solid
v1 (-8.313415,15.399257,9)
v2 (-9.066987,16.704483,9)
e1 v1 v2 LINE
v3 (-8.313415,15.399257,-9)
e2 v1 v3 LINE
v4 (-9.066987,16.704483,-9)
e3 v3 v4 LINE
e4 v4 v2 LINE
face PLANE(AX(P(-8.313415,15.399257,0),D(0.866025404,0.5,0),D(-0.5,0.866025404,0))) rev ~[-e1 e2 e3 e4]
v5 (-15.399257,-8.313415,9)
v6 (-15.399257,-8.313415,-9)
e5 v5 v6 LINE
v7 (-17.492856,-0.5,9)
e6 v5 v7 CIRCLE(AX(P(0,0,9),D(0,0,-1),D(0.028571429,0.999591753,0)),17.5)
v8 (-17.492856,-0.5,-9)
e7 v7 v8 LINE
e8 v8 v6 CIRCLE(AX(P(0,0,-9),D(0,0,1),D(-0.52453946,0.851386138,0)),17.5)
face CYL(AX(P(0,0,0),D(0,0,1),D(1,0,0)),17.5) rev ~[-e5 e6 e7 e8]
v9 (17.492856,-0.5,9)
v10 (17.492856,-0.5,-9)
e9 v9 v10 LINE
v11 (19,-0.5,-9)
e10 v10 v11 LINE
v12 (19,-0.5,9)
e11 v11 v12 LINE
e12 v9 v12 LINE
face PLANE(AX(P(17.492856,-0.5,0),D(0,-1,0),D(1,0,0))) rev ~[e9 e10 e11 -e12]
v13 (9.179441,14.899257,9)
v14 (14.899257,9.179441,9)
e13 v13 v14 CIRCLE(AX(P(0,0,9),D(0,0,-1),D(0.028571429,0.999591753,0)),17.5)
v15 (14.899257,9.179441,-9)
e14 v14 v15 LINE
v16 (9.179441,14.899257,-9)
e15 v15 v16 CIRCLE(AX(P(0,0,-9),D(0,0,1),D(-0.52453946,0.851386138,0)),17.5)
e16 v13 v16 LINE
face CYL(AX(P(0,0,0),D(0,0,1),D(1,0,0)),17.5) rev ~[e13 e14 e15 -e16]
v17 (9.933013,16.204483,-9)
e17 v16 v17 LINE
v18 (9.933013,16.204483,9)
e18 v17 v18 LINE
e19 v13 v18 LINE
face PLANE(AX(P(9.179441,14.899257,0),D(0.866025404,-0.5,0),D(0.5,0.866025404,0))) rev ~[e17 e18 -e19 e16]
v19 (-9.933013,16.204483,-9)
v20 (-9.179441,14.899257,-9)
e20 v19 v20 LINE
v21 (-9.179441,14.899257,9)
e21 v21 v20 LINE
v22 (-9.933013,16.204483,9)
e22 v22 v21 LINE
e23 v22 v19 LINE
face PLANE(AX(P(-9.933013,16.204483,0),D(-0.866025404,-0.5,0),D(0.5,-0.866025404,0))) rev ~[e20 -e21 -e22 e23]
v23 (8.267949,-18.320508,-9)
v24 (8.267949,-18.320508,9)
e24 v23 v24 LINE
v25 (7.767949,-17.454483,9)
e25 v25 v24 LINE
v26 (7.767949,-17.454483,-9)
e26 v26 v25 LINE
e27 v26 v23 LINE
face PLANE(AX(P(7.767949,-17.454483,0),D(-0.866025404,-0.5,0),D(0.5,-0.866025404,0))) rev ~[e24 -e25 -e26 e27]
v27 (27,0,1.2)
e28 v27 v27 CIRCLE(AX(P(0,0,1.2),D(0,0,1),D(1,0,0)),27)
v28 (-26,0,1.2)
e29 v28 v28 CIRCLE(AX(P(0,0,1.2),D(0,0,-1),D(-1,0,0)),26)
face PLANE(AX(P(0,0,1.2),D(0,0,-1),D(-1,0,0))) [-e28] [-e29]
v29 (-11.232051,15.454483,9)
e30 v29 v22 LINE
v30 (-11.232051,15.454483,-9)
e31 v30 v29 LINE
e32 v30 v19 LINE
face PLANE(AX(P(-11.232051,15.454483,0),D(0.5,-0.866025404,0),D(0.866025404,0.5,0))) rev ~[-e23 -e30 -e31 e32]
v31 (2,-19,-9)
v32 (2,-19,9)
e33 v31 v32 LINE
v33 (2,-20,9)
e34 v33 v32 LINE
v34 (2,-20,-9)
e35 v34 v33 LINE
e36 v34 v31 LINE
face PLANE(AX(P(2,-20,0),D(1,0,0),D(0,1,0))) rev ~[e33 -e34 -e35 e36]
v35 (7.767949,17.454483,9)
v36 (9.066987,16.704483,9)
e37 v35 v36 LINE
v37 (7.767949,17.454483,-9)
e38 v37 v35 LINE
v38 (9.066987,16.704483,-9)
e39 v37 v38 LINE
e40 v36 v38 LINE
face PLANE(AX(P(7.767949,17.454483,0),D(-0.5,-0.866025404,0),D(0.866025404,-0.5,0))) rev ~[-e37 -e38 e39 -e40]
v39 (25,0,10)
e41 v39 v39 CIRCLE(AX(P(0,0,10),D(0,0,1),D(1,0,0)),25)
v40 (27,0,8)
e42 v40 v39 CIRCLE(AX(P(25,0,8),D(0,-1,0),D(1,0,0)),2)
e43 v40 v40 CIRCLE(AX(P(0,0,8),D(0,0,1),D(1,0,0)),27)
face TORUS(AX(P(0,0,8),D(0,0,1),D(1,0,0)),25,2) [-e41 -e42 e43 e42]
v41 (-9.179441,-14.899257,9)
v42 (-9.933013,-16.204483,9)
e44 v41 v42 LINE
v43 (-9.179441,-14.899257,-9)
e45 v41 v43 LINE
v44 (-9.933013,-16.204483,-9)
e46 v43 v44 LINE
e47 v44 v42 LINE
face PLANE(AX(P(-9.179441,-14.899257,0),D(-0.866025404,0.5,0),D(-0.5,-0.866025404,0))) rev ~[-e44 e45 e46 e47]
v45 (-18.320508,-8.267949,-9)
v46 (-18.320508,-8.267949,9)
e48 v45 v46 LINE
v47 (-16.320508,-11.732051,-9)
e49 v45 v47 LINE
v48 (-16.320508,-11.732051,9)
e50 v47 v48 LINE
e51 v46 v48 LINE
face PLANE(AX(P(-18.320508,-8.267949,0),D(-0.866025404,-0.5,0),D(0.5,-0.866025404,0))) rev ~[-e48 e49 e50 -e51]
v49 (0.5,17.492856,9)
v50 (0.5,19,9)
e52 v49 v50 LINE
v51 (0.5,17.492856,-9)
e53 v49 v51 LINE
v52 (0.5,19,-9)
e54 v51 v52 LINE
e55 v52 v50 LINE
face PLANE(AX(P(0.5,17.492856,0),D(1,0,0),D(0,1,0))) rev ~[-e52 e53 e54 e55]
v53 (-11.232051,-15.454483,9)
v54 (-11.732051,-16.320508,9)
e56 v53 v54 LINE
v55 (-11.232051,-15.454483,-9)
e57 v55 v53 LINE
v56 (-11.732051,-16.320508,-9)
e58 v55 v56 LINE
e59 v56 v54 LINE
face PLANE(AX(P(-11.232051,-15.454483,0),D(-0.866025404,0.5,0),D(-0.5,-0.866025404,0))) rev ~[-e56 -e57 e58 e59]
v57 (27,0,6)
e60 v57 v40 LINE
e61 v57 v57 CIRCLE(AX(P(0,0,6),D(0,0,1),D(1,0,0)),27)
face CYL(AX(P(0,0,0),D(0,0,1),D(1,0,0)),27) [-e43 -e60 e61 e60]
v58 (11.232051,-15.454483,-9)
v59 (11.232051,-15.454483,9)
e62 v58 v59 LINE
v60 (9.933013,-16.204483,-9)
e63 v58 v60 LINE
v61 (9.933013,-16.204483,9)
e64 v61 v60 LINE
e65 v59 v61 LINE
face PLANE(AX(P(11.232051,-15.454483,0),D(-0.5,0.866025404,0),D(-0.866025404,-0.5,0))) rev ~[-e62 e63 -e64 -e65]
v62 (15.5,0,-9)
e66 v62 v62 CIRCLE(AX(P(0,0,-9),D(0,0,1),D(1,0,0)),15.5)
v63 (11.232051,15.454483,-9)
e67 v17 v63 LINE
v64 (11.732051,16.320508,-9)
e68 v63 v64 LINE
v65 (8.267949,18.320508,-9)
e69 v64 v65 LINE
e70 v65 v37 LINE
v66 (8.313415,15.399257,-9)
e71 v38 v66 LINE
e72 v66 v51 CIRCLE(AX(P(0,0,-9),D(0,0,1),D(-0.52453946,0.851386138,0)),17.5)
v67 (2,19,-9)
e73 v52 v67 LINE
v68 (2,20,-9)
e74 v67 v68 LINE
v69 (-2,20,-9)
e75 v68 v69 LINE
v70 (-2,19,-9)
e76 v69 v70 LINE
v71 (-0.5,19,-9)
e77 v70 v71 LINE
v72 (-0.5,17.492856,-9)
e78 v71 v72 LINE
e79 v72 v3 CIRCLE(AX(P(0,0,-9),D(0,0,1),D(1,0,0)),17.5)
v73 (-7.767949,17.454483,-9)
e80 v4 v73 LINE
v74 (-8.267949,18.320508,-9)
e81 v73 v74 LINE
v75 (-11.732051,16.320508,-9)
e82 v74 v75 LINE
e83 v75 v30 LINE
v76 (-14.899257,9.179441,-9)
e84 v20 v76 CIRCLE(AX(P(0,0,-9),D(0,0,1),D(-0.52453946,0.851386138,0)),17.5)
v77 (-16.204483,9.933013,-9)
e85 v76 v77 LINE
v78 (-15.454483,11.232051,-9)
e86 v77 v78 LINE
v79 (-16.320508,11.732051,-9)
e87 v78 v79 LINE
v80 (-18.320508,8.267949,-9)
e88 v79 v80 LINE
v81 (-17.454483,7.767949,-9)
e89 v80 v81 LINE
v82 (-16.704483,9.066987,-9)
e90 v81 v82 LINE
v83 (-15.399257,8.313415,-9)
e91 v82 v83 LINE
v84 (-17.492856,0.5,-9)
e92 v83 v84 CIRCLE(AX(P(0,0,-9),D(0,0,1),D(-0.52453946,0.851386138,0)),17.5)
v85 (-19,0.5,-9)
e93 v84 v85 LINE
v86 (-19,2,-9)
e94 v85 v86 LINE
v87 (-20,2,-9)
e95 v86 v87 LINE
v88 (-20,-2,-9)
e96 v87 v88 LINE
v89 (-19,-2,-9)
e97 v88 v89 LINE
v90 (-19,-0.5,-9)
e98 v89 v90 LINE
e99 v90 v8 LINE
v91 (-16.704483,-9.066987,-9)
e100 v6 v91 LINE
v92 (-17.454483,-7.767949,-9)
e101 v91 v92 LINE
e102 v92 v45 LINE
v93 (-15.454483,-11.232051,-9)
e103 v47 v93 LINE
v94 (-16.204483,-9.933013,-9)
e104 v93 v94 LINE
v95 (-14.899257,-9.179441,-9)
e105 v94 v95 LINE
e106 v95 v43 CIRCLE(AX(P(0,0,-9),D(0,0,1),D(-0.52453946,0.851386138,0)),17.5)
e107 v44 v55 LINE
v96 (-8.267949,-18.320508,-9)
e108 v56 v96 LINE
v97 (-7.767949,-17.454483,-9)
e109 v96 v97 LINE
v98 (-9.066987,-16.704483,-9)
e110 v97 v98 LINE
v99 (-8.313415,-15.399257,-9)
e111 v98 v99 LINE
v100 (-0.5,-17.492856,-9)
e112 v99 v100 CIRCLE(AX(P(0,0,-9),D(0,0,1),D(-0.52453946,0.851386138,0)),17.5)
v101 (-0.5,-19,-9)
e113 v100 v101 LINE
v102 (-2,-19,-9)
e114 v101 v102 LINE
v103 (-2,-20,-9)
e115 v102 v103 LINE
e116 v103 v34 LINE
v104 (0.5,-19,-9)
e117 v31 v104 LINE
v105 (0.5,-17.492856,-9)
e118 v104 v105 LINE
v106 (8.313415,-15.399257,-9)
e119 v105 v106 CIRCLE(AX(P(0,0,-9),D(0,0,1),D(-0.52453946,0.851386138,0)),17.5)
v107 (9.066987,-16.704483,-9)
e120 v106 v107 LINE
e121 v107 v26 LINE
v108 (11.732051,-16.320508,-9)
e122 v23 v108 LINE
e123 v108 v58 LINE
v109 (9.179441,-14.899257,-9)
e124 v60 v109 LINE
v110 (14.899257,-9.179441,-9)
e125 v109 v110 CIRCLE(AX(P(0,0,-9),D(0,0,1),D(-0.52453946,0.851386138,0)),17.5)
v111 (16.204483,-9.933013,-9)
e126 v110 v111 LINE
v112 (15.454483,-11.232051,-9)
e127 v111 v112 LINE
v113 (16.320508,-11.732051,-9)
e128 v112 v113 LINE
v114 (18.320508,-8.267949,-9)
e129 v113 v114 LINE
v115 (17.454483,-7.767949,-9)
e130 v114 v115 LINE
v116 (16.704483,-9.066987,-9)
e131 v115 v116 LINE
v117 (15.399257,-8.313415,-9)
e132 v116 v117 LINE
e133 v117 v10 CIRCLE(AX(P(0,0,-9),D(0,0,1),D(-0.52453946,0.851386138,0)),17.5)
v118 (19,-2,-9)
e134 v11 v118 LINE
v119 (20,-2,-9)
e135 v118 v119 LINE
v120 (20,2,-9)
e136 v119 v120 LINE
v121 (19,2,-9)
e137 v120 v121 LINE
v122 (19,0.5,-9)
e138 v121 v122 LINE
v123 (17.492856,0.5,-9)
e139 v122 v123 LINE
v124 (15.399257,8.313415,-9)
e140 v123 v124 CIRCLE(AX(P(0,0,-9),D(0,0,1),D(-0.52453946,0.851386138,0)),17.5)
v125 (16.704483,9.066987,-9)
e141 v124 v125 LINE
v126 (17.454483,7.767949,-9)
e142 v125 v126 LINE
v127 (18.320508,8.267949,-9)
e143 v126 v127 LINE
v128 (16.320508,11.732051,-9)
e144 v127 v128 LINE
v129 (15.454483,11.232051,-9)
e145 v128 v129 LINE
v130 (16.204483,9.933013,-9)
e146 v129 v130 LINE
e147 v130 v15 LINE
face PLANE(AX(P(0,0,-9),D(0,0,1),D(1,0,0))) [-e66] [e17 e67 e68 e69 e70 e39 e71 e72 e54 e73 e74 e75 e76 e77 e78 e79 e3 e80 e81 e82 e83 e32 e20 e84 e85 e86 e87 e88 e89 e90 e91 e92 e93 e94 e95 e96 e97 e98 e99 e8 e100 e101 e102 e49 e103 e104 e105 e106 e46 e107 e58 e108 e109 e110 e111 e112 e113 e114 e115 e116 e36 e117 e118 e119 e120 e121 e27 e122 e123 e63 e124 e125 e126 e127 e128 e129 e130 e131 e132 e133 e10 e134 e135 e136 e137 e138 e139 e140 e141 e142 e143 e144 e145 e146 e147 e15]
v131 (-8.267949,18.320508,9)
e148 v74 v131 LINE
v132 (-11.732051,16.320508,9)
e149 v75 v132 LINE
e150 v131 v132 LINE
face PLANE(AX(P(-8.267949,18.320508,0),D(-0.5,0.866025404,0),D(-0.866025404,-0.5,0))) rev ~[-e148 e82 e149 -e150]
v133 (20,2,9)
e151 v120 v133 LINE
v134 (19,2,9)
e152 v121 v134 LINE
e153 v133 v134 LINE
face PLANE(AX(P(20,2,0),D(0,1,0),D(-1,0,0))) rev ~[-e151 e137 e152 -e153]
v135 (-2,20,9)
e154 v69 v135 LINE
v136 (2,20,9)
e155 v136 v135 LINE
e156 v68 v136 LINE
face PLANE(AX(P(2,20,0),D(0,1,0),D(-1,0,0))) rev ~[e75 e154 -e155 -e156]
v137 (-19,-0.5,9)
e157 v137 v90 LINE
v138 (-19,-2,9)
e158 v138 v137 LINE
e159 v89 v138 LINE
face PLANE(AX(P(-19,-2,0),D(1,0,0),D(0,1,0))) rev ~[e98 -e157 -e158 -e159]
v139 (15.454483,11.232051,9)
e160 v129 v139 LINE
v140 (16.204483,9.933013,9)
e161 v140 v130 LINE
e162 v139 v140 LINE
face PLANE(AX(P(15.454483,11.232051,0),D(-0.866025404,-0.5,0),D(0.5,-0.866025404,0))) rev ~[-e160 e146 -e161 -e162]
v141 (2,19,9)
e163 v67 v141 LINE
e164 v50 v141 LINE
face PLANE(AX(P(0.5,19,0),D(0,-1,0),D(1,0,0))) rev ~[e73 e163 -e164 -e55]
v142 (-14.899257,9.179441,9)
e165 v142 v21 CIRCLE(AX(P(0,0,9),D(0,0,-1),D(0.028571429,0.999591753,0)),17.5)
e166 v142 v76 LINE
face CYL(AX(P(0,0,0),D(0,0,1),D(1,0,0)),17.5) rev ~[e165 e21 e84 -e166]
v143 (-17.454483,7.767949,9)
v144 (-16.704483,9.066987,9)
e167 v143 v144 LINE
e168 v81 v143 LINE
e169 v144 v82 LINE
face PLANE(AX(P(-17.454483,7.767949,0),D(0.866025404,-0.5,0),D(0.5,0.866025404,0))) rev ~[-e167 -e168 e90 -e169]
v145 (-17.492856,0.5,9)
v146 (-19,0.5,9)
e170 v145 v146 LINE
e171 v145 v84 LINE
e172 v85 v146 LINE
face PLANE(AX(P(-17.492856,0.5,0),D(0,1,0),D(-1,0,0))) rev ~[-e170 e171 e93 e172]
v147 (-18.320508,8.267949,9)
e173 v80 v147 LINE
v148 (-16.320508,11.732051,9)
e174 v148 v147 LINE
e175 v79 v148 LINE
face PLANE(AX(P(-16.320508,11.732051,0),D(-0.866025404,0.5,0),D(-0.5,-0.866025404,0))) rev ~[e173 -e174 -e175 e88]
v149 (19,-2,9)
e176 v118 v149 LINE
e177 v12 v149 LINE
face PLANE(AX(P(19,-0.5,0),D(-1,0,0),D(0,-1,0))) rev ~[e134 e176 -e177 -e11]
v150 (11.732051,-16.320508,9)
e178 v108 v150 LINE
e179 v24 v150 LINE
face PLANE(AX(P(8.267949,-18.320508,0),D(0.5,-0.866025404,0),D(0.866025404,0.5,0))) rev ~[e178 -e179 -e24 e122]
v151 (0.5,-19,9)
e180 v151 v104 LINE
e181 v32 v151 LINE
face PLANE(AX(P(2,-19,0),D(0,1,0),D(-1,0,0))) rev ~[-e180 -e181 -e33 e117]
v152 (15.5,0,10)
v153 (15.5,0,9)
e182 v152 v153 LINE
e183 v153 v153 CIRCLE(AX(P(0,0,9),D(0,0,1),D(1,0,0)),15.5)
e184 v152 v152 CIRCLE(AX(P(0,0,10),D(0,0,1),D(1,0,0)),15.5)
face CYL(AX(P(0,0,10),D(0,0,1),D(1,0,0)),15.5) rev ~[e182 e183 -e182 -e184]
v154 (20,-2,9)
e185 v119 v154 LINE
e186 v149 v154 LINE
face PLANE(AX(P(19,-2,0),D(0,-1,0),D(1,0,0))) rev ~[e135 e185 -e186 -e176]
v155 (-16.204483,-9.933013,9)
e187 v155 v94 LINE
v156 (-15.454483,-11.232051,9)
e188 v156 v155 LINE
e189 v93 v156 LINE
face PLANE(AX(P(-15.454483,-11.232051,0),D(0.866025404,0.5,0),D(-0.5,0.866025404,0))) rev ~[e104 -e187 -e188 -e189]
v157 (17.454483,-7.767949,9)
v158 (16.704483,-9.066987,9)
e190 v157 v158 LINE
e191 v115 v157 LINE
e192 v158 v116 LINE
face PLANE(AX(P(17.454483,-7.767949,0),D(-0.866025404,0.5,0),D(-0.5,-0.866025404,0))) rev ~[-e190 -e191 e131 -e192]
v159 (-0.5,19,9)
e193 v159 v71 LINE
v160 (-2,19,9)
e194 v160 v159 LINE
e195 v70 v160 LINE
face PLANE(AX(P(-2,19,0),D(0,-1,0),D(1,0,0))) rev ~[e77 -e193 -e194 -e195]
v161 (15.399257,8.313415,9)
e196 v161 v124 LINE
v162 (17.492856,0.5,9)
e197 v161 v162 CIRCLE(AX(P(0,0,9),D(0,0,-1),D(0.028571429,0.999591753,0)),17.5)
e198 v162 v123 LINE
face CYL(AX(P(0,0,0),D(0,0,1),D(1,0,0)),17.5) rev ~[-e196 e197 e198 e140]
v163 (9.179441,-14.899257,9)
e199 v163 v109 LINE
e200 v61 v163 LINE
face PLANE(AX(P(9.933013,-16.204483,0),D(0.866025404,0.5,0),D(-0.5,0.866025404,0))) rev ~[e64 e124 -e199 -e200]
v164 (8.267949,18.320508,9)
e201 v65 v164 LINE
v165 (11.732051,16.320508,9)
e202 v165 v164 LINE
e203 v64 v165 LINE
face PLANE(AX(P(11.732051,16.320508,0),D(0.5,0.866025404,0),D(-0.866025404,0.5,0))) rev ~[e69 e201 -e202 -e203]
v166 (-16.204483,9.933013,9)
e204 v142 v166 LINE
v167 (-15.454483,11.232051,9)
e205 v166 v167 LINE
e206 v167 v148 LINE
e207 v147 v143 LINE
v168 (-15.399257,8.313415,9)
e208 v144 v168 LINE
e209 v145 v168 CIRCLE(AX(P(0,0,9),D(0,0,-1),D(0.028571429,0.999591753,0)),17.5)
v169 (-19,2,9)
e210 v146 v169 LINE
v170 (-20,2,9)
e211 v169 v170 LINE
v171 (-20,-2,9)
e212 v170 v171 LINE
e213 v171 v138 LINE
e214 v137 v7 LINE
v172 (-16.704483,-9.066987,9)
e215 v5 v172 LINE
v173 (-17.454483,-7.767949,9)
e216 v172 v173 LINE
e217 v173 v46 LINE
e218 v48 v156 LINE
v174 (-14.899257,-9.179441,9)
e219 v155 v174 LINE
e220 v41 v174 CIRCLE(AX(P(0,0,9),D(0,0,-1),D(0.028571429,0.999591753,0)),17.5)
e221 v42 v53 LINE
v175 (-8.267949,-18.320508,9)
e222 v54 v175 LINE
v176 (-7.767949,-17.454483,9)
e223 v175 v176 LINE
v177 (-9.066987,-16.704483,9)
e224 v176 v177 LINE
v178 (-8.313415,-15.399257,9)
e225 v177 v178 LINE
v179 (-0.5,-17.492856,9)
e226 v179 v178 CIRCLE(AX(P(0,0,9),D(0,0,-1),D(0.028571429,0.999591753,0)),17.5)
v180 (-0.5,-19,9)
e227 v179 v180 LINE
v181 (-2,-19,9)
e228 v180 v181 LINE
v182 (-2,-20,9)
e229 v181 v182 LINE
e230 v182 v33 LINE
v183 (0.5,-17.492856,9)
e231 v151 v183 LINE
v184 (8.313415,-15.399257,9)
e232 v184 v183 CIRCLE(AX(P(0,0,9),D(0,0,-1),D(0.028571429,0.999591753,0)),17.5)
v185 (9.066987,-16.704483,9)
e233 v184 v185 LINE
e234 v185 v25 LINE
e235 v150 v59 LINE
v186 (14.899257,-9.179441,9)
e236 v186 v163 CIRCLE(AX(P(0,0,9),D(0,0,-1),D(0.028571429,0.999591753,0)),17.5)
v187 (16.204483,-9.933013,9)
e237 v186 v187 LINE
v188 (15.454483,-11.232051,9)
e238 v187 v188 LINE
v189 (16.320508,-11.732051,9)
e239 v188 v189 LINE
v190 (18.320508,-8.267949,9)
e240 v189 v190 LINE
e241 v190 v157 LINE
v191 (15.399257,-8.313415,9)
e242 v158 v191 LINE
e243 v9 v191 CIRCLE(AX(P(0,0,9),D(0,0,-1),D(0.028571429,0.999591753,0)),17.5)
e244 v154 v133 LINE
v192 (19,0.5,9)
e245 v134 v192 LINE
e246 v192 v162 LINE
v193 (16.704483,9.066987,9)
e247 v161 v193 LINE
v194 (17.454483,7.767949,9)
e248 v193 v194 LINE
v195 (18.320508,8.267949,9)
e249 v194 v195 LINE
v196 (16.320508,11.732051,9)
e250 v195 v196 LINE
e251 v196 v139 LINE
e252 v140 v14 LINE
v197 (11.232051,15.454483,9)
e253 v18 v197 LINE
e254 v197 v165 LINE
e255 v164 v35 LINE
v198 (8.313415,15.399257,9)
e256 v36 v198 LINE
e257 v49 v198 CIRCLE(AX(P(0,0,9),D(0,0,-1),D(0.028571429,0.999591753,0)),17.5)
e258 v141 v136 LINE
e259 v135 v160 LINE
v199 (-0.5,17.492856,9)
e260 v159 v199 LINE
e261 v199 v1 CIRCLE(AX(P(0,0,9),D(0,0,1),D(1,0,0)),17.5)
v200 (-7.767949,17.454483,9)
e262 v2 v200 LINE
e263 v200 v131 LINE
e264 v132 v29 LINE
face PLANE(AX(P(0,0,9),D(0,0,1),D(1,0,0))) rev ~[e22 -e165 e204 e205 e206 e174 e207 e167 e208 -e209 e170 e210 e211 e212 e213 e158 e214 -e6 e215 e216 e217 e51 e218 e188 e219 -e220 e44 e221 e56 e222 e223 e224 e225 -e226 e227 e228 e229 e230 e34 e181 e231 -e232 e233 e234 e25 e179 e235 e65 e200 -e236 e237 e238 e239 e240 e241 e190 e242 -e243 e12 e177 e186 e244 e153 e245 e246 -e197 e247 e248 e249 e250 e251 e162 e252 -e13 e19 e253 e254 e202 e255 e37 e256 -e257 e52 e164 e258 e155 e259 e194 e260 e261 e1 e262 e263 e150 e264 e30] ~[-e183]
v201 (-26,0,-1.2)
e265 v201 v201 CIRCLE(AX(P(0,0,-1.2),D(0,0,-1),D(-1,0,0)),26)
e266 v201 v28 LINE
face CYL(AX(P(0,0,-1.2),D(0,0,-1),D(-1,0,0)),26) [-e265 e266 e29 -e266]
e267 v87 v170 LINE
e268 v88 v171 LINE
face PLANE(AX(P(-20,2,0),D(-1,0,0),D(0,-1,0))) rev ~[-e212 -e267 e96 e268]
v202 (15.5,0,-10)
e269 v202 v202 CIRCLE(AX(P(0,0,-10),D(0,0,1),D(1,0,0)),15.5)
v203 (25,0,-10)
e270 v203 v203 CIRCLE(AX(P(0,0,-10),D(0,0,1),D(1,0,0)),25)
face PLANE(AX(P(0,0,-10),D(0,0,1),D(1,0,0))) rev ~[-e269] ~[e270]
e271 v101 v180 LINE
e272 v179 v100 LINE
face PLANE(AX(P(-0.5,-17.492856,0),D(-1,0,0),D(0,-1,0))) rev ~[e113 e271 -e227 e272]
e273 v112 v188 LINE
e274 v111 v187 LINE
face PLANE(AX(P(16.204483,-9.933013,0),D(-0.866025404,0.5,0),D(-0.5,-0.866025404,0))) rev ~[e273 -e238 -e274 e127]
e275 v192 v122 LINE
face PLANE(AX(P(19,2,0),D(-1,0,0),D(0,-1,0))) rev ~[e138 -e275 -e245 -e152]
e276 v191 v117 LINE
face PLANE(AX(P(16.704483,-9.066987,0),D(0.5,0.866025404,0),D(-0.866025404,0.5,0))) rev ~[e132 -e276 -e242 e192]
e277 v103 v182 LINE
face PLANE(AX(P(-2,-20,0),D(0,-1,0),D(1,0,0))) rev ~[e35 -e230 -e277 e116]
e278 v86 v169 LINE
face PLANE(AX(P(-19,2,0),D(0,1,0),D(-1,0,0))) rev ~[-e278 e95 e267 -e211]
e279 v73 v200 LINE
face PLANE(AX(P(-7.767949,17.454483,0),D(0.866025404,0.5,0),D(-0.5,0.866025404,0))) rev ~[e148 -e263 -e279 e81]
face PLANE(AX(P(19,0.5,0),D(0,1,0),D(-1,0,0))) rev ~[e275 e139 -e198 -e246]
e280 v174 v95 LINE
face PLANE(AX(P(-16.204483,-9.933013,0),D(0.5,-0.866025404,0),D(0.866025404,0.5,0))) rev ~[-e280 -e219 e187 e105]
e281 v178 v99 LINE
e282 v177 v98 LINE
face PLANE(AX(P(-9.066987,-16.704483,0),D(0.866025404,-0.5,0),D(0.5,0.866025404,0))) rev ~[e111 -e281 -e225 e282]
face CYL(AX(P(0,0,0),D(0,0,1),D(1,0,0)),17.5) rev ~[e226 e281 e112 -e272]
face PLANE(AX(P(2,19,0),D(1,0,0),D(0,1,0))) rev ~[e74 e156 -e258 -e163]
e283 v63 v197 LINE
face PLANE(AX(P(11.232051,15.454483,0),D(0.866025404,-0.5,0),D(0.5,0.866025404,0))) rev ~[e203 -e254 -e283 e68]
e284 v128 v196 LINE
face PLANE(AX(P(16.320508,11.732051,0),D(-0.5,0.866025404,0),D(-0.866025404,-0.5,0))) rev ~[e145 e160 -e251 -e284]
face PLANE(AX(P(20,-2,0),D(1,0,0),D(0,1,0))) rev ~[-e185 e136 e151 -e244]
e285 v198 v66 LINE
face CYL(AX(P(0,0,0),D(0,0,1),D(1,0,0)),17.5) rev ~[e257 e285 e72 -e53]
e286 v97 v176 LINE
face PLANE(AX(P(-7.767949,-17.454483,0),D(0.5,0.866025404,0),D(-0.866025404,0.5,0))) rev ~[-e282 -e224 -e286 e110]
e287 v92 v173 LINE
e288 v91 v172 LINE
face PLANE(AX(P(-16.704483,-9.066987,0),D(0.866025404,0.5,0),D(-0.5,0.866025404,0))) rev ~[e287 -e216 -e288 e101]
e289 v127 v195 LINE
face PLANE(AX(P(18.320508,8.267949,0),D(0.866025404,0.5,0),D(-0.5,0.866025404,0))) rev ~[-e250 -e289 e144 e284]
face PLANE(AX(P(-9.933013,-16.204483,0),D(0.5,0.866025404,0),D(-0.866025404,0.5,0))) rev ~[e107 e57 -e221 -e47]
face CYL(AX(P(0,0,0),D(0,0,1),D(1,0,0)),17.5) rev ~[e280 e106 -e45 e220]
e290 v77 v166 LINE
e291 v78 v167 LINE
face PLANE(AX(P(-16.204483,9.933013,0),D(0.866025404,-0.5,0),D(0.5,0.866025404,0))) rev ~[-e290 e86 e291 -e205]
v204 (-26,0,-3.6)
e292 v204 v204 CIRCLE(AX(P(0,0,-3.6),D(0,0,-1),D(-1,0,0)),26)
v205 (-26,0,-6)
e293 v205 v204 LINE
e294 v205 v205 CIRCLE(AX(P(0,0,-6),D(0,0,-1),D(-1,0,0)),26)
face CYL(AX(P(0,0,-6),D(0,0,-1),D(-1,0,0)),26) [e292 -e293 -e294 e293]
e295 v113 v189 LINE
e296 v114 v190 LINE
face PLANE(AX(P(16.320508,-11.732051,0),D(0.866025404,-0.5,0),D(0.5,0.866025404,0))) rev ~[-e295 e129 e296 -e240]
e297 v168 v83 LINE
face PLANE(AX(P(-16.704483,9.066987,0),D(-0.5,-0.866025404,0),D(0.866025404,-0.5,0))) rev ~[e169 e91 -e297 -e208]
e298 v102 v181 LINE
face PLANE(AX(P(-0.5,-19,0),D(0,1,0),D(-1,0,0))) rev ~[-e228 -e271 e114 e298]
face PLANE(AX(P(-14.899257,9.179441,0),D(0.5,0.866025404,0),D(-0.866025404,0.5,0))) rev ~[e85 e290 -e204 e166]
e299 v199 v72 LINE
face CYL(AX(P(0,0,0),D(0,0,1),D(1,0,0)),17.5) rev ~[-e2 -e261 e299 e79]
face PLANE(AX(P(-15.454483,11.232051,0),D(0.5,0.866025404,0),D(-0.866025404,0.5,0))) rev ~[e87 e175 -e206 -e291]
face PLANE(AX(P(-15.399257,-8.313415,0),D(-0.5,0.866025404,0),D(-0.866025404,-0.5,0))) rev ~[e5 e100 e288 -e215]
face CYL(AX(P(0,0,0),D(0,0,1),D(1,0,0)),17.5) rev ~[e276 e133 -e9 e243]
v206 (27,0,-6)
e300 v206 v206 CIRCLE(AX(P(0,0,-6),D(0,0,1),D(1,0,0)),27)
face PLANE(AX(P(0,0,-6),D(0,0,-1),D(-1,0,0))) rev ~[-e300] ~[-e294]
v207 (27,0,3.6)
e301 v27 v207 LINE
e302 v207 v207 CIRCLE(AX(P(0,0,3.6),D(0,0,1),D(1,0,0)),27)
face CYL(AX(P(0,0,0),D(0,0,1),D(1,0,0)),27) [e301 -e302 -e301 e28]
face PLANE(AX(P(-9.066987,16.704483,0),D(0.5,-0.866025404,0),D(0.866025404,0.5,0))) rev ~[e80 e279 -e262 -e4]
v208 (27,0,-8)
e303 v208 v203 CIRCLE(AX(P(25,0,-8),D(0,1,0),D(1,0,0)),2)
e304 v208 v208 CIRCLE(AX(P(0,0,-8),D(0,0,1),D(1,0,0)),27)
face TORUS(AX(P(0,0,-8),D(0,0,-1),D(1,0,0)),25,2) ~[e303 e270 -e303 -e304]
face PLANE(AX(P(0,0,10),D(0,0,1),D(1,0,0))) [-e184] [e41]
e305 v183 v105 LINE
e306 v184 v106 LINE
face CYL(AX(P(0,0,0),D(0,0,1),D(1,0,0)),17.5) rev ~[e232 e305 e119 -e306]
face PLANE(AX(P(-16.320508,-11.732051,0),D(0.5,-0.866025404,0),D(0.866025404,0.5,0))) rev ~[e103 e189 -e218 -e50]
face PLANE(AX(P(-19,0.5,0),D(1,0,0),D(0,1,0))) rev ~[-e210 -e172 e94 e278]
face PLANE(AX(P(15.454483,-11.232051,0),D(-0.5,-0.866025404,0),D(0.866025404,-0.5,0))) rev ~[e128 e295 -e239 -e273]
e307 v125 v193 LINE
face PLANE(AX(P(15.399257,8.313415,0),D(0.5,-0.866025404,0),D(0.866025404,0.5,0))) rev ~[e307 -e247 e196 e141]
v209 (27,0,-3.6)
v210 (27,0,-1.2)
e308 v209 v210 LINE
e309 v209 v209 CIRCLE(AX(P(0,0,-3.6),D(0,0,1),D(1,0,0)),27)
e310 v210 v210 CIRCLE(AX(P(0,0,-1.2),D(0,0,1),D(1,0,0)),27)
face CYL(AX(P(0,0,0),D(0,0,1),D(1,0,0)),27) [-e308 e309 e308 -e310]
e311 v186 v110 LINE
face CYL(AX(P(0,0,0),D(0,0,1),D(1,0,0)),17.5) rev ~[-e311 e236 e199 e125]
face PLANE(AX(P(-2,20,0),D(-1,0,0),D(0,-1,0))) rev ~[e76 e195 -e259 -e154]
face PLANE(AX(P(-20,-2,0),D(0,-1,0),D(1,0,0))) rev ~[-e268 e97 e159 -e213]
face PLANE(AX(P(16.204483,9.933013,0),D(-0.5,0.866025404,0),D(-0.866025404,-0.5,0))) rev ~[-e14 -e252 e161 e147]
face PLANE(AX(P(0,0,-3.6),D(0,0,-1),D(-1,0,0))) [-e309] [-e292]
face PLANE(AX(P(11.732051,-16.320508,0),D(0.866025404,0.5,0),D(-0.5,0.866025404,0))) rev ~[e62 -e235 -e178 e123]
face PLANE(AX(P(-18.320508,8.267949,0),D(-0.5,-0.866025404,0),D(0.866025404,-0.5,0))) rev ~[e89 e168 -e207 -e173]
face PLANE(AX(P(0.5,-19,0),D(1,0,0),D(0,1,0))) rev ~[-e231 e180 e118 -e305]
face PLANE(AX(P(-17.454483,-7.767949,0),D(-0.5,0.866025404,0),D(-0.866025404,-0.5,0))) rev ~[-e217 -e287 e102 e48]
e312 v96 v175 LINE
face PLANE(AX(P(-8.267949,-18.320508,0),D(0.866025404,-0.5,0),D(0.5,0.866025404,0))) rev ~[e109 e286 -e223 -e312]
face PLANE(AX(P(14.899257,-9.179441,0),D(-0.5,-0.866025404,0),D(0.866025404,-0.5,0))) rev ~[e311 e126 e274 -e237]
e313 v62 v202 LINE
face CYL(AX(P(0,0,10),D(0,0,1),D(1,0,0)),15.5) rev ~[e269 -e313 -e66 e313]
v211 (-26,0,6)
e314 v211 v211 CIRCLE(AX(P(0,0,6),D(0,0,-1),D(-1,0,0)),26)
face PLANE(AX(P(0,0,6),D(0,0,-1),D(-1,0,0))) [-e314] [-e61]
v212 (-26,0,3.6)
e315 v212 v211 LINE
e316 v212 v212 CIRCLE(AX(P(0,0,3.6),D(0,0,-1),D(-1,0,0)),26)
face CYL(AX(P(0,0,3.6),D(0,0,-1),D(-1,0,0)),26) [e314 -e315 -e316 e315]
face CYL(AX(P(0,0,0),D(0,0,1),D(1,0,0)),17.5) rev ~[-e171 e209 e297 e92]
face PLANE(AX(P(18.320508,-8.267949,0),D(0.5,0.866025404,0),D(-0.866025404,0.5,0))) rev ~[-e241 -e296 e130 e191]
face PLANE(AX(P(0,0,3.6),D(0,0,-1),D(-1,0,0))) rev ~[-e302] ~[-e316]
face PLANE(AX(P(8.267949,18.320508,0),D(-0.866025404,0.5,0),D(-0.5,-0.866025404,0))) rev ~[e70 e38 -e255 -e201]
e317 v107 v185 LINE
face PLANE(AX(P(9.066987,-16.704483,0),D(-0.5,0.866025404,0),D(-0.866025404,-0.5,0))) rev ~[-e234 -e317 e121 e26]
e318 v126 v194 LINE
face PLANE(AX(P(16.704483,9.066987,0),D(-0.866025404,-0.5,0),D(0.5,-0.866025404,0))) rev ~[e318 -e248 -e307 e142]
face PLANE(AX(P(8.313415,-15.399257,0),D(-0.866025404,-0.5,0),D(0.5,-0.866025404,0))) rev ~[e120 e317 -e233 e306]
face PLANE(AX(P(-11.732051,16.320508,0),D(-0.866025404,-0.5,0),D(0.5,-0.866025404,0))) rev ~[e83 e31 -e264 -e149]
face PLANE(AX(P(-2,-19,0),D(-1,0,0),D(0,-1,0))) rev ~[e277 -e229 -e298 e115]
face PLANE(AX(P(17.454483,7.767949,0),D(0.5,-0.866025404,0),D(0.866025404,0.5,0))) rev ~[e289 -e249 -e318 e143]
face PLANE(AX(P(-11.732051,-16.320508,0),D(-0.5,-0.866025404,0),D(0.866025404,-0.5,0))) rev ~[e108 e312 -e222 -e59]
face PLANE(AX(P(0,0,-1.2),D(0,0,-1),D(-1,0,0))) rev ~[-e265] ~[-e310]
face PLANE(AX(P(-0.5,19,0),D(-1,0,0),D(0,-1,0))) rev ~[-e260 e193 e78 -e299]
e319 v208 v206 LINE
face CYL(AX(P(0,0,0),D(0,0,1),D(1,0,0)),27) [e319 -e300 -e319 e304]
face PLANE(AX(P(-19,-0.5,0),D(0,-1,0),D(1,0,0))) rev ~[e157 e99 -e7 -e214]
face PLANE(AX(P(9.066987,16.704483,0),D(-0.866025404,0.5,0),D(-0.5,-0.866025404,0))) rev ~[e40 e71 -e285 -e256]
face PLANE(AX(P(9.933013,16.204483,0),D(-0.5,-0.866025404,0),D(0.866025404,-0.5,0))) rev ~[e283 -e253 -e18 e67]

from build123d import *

# Parameters (mm, degrees)
SKETCH_1_R               = 27
EXTRUDE_1_DEPTH          = 10
FILLET_1_R               = 2
SKETCH_3_R               = 17.5
CUT_EXTRUDE_1_DEPTH      = 9
SKETCH_5_R               = 15.5
CUT_EXTRUDE_2_DEPTH      = 44.10452425
CUT_EXTRUDE_3_DEPTH      = 9
PATTERN_CIRCULAR_1_COUNT = 12
CUT_EXTRUDE_START        = -4
SKETCH_7_R               = 30.427908266
SKETCH_7_R_2             = 26
CUT_EXTRUDE_4_DEPTH      = 2.4
PATTERN_LINEAR_1_COUNT   = 3
PATTERN_LINEAR_1_PITCH   = 4.8


with BuildPart() as part:
    # 草图1 → 凸台-拉伸1 (new, symmetric)
    with BuildSketch(Plane.XY):
        Circle(SKETCH_1_R)
    extrude(amount=EXTRUDE_1_DEPTH, both=True)

    # 圆角1
    fillet_1_edges = [part.edges().sort_by_distance(p)[0] for p in [
        (-27, 0, -10),
        (-27, 0, 10),
    ]]
    fillet(fillet_1_edges, radius=FILLET_1_R)

    # 草图3 → 切除-拉伸1 (cut, symmetric)
    with BuildSketch(Plane.XY):
        Circle(SKETCH_3_R)
    extrude(amount=CUT_EXTRUDE_1_DEPTH, both=True, mode=Mode.SUBTRACT)

    # 草图5 → 切除-拉伸2 (cut, through all)
    with BuildSketch(Plane.XY.offset(10)):
        Circle(SKETCH_5_R)
    extrude(amount=-CUT_EXTRUDE_2_DEPTH, mode=Mode.SUBTRACT)

    # 草图6 → 切除-拉伸3 (cut, symmetric)
    with BuildSketch(Plane.XY):
        with BuildLine():
            Line((0.5, 17.492855685), (0.5, 19))
            Line((0.5, 19), (2, 19))
            Line((2, 19), (2, 20))
            Line((2, 20), (-2, 20))
            Line((-2, 20), (-2, 19))
            Line((-2, 19), (-0.5, 19))
            Line((-0.5, 19), (-0.5, 17.492855685))
            ThreePointArc((-0.5, 17.492855685), (0, 17.5), (0.5, 17.492855685))
        make_face()
    cut_extrude_3 = extrude(amount=CUT_EXTRUDE_3_DEPTH, both=True, mode=Mode.SUBTRACT)

    # 阵列(圆周)1: 切除-拉伸3 ×12 about axis
    pattern_circular_1_axis = Axis((0, 0, 0), (0, 0, 1))
    for i in range(1, PATTERN_CIRCULAR_1_COUNT):
        add(cut_extrude_3.rotate(pattern_circular_1_axis, i * 360 / PATTERN_CIRCULAR_1_COUNT), mode=Mode.SUBTRACT)

    # 草图7 → 切除-拉伸4 (cut)
    with BuildSketch(Plane(origin=(0, 0, -10), x_dir=(-1, 0, 0), z_dir=(0, 0, -1)).offset(CUT_EXTRUDE_START)):
        Circle(SKETCH_7_R)
        Circle(SKETCH_7_R_2, mode=Mode.SUBTRACT)
    cut_extrude_4 = extrude(amount=-CUT_EXTRUDE_4_DEPTH, mode=Mode.SUBTRACT)

    # 阵列(线性)1: 切除-拉伸4 ×3
    with Locations(*[(0, 0, i * PATTERN_LINEAR_1_PITCH) for i in range(1, PATTERN_LINEAR_1_COUNT)]):
        add(cut_extrude_4, mode=Mode.SUBTRACT)


solid = part.part
